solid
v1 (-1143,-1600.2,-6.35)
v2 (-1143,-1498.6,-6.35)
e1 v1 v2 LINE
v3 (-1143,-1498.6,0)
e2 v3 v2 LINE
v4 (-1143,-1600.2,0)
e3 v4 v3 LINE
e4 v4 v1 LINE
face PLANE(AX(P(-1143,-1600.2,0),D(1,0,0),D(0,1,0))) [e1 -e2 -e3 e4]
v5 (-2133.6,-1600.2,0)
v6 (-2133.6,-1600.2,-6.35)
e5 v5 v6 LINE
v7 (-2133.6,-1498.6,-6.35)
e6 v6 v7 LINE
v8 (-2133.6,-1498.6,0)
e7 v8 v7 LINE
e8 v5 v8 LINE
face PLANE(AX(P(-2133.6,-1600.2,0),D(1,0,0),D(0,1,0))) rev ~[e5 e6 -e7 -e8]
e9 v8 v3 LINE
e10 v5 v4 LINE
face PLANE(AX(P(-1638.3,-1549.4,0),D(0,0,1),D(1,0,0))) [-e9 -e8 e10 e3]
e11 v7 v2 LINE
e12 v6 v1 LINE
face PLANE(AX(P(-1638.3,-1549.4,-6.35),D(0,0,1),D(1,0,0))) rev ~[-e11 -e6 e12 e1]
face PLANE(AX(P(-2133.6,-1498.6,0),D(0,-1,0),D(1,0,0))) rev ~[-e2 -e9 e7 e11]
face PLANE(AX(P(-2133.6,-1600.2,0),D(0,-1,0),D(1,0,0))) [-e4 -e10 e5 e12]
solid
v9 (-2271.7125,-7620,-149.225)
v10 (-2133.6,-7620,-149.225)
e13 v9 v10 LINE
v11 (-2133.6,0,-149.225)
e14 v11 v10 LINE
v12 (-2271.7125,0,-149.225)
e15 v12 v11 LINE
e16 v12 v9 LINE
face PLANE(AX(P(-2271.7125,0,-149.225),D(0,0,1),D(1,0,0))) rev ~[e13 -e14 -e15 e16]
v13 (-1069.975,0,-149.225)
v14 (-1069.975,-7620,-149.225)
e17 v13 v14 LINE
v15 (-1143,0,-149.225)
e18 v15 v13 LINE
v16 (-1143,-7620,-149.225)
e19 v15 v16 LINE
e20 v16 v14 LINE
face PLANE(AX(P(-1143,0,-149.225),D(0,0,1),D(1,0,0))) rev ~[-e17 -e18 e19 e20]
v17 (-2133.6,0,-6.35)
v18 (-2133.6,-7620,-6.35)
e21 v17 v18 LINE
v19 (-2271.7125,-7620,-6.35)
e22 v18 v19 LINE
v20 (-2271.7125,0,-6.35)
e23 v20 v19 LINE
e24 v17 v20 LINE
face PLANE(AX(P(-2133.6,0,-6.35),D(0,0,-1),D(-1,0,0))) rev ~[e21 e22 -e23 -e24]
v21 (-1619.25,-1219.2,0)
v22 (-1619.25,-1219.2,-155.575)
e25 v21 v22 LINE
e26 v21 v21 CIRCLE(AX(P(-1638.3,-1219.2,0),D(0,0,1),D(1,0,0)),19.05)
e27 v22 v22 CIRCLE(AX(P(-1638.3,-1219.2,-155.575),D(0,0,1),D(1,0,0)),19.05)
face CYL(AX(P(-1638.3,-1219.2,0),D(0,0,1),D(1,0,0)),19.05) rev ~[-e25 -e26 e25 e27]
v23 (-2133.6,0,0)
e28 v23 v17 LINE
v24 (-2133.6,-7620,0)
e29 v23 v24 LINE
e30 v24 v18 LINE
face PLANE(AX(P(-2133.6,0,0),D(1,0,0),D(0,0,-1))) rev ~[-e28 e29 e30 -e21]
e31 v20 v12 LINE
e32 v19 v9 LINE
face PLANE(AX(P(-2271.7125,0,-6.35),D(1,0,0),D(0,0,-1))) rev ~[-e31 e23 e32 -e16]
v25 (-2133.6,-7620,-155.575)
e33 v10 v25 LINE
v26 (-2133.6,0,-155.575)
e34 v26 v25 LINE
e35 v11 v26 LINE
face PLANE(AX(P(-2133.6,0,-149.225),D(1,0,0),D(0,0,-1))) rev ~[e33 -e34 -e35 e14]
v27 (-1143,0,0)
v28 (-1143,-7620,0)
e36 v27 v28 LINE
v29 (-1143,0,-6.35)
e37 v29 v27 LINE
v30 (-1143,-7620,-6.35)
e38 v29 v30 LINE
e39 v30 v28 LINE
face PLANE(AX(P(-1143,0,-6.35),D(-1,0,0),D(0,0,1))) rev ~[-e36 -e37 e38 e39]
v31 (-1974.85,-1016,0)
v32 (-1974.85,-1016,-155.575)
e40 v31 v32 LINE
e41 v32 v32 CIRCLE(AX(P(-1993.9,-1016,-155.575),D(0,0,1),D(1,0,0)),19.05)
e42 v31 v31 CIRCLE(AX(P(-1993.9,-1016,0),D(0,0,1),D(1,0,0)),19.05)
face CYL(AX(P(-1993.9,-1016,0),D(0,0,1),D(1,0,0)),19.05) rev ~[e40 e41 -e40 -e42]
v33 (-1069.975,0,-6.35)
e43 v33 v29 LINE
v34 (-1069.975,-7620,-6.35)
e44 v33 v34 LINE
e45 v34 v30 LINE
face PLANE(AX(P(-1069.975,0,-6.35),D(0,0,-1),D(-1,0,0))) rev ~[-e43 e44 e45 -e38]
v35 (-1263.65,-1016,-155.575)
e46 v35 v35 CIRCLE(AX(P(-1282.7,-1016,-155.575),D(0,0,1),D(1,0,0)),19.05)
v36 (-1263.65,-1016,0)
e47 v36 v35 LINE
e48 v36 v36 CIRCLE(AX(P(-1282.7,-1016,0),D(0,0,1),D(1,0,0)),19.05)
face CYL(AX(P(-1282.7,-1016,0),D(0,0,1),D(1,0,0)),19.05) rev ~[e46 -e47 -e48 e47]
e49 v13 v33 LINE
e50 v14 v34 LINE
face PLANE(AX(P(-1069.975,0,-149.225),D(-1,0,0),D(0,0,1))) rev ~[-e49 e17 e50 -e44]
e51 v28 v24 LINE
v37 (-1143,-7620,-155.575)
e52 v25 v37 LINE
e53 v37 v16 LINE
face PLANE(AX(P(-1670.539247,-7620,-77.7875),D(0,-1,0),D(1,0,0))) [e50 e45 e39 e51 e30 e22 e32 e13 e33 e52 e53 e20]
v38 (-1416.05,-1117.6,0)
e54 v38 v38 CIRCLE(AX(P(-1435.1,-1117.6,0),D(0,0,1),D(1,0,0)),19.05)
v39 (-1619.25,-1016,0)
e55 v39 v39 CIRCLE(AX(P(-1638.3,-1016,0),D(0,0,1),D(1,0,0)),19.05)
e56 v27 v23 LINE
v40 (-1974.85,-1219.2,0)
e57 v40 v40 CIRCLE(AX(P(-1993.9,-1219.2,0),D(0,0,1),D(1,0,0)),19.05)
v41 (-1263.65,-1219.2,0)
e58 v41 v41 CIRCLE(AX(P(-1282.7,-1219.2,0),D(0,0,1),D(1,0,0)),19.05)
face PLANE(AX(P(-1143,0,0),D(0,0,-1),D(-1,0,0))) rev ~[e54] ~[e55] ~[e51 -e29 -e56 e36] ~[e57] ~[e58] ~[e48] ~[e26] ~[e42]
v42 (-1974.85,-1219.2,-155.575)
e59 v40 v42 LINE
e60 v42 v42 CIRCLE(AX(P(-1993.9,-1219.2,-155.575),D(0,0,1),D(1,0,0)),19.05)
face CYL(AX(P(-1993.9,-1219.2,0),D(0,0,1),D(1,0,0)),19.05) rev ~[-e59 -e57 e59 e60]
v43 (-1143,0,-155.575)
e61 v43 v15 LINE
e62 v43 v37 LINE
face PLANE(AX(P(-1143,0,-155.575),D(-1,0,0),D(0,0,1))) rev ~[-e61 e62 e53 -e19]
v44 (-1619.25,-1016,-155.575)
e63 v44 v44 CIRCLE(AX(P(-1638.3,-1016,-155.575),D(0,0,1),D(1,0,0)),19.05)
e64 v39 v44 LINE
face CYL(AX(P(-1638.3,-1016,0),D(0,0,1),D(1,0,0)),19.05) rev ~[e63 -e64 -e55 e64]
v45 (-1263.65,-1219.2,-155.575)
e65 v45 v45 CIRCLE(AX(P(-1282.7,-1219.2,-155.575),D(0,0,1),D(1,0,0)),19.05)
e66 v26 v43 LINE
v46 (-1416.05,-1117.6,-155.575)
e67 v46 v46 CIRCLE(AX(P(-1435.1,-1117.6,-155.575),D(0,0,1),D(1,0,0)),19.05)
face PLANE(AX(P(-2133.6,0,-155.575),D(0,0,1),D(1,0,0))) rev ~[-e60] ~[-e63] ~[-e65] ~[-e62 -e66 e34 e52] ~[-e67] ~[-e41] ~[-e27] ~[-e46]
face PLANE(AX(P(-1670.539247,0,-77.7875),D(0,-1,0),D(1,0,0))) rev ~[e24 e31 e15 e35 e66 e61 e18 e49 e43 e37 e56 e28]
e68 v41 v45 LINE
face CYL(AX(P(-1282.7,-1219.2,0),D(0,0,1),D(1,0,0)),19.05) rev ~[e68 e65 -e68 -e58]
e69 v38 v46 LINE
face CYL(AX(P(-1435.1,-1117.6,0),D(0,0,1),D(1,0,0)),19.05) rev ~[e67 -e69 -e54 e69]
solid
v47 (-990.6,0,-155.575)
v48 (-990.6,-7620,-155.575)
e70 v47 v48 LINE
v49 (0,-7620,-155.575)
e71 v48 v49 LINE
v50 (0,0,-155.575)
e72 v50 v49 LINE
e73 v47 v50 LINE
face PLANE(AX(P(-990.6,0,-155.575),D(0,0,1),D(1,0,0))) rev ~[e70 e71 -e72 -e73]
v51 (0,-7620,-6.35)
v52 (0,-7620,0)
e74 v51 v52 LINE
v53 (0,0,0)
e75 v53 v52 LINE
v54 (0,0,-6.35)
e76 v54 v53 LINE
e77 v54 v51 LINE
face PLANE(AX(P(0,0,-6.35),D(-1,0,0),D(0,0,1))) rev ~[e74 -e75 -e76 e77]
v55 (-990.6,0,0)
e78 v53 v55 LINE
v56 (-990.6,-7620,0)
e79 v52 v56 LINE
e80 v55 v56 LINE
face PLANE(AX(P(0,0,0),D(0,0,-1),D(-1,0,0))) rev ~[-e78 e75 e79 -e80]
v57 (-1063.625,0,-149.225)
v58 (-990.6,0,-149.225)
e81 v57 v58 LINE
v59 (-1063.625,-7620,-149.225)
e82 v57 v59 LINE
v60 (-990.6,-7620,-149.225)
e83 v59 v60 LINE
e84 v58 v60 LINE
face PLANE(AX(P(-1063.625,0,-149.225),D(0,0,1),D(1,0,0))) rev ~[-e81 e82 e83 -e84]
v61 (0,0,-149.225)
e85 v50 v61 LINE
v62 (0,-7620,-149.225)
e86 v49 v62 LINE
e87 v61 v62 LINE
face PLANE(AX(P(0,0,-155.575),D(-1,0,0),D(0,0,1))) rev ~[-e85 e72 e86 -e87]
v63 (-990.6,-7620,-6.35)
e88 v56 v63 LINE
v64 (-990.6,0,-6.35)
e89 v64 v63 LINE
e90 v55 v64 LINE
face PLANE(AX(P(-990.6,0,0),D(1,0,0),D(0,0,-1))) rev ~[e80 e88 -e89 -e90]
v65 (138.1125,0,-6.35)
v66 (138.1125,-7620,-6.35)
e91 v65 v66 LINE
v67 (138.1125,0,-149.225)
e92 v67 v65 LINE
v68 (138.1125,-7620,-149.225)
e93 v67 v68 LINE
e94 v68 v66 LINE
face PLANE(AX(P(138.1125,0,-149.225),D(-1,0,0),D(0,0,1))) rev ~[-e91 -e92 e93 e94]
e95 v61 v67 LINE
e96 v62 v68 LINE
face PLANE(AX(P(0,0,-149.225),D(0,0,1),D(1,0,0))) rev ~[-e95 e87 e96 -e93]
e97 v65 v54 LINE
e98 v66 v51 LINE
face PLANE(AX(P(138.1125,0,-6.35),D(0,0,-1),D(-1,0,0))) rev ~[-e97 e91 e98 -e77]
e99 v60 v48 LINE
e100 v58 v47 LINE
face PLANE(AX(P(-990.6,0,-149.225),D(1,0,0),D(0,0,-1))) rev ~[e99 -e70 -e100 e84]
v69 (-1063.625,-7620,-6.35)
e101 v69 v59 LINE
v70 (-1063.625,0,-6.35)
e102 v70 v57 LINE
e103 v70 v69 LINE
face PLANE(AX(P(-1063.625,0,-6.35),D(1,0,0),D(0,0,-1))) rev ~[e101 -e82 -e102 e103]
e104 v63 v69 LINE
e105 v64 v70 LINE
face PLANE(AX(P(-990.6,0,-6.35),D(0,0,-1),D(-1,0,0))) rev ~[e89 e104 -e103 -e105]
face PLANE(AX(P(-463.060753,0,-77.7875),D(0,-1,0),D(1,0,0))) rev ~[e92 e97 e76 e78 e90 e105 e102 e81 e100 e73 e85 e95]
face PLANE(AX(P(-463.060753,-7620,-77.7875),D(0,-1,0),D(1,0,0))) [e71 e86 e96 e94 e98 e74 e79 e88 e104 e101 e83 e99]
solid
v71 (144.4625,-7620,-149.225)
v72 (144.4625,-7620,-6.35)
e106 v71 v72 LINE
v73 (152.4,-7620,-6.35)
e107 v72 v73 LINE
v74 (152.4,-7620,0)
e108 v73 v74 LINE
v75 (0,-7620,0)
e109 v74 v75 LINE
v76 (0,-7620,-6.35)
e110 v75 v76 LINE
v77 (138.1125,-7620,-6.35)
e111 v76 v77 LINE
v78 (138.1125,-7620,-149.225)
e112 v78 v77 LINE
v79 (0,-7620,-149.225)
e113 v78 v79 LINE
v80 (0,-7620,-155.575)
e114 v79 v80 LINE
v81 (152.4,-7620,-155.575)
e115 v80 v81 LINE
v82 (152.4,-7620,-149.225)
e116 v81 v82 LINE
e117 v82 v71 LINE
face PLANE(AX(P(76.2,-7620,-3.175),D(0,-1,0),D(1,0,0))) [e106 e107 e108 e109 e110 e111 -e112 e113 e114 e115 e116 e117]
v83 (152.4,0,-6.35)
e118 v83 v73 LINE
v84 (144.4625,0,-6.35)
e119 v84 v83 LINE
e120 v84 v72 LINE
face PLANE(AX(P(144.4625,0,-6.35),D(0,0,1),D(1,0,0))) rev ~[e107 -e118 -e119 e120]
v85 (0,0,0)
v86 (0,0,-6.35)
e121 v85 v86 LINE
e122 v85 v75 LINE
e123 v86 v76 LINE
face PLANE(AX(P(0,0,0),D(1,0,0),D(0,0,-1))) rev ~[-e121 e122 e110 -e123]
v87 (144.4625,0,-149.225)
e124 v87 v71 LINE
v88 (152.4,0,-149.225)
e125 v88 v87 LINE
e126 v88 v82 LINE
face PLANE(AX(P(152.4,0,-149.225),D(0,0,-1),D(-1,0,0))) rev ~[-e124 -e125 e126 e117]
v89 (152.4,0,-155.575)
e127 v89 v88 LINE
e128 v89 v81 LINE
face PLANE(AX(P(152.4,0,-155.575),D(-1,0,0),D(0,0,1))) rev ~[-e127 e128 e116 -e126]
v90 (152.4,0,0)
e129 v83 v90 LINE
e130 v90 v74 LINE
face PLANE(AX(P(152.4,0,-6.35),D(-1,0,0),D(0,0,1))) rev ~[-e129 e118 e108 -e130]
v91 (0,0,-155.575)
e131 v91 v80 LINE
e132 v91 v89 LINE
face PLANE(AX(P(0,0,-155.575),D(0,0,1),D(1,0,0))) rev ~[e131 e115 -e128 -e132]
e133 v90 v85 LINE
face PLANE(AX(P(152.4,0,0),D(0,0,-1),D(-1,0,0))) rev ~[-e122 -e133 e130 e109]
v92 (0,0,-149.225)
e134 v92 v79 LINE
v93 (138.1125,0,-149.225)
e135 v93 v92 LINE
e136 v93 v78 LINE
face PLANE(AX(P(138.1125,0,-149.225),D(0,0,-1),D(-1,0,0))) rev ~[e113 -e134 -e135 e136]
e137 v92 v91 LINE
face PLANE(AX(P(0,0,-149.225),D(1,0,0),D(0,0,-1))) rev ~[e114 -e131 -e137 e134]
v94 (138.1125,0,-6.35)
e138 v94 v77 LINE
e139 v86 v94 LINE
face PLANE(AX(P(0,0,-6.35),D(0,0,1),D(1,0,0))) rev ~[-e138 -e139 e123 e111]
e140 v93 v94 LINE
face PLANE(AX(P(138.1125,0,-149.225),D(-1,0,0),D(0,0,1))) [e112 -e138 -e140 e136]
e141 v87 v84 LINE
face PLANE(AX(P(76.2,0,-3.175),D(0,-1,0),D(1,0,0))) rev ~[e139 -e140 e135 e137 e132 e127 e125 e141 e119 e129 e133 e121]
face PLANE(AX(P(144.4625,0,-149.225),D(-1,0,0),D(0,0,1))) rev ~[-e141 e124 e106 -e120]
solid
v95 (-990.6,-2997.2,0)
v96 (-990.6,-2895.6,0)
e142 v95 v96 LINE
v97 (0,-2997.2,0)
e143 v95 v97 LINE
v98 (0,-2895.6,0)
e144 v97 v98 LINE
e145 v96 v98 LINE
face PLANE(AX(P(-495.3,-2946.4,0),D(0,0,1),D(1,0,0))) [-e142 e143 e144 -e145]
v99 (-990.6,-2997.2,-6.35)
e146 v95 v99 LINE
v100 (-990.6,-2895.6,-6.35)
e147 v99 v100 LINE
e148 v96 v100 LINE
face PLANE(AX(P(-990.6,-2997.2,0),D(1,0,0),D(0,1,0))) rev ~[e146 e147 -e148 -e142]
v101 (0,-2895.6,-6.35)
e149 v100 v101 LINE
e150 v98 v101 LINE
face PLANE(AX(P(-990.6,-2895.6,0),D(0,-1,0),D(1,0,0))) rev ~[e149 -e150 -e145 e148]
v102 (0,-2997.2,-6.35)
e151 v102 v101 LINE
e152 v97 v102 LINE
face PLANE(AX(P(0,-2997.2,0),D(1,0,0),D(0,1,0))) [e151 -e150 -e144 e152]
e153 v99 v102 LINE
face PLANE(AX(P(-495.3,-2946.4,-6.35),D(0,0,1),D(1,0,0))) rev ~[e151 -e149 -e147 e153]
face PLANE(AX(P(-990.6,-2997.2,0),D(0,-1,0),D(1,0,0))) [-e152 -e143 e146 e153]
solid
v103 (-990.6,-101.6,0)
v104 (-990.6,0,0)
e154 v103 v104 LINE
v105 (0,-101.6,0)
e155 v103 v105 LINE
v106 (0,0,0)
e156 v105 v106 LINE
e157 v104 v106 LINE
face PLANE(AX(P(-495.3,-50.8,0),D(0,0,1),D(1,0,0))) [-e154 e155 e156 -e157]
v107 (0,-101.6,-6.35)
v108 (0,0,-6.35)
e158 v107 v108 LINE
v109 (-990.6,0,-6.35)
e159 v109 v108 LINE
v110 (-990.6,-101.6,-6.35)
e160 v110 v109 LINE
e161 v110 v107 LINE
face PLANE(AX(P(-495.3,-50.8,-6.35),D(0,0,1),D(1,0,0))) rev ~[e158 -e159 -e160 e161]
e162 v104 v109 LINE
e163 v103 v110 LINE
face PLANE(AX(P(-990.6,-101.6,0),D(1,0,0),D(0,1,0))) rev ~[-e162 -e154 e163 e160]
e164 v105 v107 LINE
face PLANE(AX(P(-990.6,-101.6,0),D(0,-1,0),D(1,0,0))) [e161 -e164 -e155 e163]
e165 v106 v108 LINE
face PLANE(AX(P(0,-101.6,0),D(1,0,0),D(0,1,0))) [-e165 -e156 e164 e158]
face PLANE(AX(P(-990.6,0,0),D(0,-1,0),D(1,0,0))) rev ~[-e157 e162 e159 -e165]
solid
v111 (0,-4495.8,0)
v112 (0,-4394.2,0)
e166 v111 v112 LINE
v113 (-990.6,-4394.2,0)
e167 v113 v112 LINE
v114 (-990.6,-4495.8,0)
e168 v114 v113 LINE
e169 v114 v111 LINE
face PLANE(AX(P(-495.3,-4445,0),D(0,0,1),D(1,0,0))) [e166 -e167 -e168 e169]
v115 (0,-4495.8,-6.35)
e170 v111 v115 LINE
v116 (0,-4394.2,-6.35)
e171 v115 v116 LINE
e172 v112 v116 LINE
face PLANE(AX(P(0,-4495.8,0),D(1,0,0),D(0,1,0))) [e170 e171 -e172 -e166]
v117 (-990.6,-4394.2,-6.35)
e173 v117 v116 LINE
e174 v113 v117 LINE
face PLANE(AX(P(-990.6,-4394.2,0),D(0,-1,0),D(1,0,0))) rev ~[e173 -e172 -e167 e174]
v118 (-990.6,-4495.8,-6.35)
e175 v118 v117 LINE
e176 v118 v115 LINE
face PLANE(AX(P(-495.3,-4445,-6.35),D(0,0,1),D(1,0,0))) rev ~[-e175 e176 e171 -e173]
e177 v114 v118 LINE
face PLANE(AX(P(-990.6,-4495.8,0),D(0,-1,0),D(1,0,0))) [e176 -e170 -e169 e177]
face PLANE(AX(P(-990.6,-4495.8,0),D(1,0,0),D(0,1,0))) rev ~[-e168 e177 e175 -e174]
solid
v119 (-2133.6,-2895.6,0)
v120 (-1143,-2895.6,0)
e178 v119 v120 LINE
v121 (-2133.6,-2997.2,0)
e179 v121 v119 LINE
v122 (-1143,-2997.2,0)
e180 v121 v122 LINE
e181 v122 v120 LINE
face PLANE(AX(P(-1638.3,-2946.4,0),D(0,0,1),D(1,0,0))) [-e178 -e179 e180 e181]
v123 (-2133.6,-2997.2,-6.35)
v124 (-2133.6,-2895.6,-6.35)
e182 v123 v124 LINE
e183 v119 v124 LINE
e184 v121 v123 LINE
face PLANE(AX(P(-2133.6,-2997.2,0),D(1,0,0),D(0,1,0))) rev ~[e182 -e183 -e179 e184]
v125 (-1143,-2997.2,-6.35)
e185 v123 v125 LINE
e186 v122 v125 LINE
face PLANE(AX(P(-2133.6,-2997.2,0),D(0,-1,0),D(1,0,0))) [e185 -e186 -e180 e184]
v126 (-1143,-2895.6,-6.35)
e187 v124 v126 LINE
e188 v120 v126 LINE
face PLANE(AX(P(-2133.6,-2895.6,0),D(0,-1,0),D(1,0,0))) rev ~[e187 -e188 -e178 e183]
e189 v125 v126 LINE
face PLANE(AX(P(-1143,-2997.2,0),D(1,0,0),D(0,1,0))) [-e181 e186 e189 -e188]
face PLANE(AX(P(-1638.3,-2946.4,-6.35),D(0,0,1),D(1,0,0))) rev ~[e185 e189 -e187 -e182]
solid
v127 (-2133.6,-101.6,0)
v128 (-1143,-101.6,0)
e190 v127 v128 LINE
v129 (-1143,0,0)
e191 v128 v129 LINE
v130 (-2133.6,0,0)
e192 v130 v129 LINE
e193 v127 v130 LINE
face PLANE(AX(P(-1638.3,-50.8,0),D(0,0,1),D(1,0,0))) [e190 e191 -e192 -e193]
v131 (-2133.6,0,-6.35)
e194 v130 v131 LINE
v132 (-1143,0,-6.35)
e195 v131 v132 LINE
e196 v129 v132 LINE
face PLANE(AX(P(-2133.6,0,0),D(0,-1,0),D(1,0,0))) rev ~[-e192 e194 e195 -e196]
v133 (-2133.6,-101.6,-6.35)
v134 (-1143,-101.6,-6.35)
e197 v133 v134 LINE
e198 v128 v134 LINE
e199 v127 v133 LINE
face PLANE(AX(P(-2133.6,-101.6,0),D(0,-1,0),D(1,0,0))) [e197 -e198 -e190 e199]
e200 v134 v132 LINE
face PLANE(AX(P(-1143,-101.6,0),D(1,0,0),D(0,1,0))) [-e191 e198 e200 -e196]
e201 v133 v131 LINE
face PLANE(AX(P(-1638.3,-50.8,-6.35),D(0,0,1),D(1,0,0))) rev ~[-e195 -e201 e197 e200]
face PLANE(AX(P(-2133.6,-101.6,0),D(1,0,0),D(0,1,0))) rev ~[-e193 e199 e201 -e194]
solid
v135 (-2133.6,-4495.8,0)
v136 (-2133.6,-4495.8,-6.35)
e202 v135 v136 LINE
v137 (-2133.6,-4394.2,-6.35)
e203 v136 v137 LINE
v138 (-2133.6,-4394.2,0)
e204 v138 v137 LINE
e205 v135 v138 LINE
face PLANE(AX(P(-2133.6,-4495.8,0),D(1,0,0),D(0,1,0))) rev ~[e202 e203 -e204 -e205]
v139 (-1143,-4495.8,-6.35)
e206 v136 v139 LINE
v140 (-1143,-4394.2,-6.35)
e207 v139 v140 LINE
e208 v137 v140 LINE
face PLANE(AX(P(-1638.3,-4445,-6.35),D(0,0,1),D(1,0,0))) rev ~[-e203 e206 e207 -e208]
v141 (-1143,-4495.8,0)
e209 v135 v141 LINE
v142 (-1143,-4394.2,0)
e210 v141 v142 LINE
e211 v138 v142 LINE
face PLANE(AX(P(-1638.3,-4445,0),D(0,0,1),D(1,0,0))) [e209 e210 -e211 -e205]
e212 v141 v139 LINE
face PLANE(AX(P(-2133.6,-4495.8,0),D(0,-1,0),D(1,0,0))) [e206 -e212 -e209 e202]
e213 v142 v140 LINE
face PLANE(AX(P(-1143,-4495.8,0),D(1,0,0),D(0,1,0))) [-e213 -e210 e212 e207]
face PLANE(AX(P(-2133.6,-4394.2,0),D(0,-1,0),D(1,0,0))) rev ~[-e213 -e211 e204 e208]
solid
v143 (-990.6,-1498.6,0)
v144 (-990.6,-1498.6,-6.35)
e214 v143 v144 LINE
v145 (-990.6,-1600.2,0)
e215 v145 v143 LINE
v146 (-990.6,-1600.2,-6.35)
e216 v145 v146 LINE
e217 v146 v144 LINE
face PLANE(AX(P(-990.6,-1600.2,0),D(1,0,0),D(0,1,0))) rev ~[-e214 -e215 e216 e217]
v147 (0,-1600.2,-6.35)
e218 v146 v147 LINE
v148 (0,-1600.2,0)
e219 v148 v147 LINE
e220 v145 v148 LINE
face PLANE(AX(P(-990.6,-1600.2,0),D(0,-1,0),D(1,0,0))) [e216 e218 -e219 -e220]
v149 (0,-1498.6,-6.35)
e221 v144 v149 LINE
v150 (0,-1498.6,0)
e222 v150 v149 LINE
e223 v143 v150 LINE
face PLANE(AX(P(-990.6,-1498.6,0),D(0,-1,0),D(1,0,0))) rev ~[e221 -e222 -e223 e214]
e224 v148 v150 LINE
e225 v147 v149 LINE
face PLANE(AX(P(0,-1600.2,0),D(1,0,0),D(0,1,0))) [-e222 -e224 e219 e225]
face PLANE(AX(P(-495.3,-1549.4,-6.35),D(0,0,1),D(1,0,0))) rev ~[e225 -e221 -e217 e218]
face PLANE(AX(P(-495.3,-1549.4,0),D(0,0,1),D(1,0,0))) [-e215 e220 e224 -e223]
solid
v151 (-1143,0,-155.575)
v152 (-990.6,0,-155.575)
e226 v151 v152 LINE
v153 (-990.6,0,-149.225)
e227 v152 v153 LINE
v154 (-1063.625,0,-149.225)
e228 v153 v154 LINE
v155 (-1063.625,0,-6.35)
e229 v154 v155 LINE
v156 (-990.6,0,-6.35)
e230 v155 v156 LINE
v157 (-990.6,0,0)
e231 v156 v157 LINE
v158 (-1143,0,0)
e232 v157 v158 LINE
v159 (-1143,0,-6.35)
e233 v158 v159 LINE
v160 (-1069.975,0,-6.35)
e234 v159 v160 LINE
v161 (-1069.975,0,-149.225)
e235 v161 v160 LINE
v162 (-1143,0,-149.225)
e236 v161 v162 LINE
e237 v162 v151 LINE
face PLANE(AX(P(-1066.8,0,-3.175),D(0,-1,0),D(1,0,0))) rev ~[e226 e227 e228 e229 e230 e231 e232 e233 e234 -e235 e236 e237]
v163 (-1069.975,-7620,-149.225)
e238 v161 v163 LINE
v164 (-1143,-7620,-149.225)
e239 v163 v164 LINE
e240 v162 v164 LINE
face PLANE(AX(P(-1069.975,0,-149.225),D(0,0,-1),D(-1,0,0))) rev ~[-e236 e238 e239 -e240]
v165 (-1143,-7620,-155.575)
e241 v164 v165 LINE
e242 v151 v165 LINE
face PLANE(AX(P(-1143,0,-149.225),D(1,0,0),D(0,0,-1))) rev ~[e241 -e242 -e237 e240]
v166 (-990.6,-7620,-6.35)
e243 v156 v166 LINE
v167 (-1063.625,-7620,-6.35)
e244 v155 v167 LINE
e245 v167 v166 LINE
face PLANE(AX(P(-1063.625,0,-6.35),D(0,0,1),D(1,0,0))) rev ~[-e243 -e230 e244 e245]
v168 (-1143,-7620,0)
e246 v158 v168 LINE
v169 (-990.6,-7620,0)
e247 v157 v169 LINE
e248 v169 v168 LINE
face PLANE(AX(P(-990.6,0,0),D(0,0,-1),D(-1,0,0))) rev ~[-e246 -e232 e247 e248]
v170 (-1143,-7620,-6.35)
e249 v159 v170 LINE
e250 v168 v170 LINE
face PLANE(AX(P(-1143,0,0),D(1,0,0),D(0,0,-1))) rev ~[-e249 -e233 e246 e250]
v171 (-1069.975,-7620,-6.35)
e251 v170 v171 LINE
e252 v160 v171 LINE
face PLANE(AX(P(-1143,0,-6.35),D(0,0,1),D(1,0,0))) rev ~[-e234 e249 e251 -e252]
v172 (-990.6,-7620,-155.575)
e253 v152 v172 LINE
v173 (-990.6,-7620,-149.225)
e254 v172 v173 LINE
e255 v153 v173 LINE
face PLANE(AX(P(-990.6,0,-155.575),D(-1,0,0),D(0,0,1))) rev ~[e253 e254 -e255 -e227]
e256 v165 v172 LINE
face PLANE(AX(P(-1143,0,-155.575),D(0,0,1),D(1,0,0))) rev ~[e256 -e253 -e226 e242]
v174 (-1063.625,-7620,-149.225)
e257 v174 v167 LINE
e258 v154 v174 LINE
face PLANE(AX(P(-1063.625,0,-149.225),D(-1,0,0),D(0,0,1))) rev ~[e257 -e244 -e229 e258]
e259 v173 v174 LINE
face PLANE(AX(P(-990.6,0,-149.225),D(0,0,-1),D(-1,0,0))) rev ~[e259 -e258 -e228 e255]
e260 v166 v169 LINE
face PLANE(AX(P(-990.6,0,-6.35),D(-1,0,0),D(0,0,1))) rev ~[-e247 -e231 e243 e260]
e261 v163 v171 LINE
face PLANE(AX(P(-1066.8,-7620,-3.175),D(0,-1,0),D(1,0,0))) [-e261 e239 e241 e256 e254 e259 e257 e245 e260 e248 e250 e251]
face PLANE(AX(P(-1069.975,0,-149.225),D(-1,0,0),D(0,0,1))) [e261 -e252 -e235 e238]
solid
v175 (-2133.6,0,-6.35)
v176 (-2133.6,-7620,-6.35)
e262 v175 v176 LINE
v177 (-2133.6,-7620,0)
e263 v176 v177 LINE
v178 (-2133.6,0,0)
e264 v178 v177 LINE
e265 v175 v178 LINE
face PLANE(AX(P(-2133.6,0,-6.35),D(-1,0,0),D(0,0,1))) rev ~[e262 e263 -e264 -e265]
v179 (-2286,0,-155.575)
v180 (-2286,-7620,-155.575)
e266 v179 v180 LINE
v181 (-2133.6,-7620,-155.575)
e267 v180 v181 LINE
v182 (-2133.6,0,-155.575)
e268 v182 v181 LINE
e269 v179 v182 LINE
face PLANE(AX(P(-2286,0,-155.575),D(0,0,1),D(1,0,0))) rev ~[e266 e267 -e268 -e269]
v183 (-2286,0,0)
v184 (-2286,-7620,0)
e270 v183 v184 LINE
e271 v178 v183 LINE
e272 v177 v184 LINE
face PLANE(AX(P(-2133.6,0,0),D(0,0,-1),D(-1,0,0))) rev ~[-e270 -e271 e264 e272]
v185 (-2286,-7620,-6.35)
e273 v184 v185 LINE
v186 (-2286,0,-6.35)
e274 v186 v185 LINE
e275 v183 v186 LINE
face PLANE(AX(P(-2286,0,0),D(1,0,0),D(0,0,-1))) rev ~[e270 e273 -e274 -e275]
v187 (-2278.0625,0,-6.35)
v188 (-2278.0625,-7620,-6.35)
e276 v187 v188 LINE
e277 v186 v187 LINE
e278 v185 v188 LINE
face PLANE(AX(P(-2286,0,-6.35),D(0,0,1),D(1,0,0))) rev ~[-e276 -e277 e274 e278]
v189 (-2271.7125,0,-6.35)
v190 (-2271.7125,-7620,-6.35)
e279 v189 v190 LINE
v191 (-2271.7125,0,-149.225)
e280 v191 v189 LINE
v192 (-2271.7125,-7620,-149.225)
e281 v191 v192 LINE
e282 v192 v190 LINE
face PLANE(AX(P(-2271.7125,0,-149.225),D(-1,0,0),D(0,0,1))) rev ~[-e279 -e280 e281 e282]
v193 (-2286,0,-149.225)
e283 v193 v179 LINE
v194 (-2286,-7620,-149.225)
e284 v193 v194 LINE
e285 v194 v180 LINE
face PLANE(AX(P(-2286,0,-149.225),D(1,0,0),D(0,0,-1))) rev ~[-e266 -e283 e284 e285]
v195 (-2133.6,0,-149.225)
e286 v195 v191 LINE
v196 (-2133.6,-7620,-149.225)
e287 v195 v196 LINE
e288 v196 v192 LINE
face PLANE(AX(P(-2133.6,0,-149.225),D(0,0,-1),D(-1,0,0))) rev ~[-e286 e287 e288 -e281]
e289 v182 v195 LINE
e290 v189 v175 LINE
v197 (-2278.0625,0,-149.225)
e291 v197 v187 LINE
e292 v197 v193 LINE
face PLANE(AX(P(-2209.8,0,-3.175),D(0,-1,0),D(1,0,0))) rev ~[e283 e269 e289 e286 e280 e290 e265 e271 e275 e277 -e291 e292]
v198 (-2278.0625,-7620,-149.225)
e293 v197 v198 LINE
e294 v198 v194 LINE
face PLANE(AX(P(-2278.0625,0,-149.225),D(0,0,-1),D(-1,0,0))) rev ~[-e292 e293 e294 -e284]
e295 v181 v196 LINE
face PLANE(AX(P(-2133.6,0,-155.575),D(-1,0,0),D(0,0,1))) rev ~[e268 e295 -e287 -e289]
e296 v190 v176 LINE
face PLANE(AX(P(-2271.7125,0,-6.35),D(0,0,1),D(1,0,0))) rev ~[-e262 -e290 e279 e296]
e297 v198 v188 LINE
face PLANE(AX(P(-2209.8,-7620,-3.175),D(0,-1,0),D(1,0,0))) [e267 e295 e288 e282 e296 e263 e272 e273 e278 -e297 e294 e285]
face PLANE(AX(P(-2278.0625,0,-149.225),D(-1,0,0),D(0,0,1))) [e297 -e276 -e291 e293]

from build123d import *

# Parameters (mm, degrees)
F0_W      = 6.35
F0_H      = 142.875
F1_DEPTH  = 7620
F2_W      = 6.35
F2_H      = 142.875
F3_DEPTH  = 7620
F4_W      = 6.35
F4_H      = 142.875
F5_DEPTH  = 7620
F7_DEPTH  = 7620
F8_W      = 990.6
F8_H      = 101.6
F9_DEPTH  = 6.35
F10_R     = 19.05
F11_DEPTH = 155.576


with BuildPart() as f1:
    # F0 (on Front) → F1 (new body)
    with BuildSketch(Plane.XZ):
        Polygon((152.4, 0), (0, 0), (0, -6.35), (138.1125, -6.35), (144.4625, -6.35), (152.4, -6.35), align=None)
        with Locations((141.2875, -77.7875)):
            Rectangle(F0_W, F0_H)
        Polygon((144.4625, -149.225), (138.1125, -149.225), (0, -149.225), (0, -155.575), (152.4, -155.575), (152.4, -149.225), align=None)
    extrude(amount=F1_DEPTH)


with BuildPart() as f3:
    # F2 (on Front) → F3 (new body)
    with BuildSketch(Plane.XZ):
        Polygon((-2133.6, 0), (-2286, 0), (-2286, -6.35), (-2278.0625, -6.35), (-2271.7125, -6.35), (-2133.6, -6.35), align=None)
        with Locations((-2274.8875, -77.7875)):
            Rectangle(F2_W, F2_H)
        Polygon((-2271.7125, -149.225), (-2278.0625, -149.225), (-2286, -149.225), (-2286, -155.575), (-2133.6, -155.575), (-2133.6, -149.225), align=None)
    extrude(amount=F3_DEPTH)


with BuildPart() as f5:
    # F4 (on Front) → F5 (new body)
    with BuildSketch(Plane.XZ):
        Polygon((-990.6, 0), (-1143, 0), (-1143, -6.35), (-1069.975, -6.35), (-1063.625, -6.35), (-990.6, -6.35), align=None)
        with Locations((-1066.8, -77.7875)):
            Rectangle(F4_W, F4_H)
        Polygon((-1063.625, -149.225), (-1069.975, -149.225), (-1143, -149.225), (-1143, -155.575), (-990.6, -155.575), (-990.6, -149.225), align=None)
    extrude(amount=F5_DEPTH)


with BuildPart() as f7:
    # F6 (on Front) → F7 (new body)
    with BuildSketch(Plane.XZ):
        Polygon((0, -6.35), (0, 0), (-990.6, 0), (-990.6, -6.35), (-1063.625, -6.35), (-1063.625, -149.225), (-990.6, -149.225), (-990.6, -155.575), (0, -155.575), (0, -149.225), (138.1125, -149.225), (138.1125, -6.35), align=None)
        Polygon((-1143, -6.35), (-1143, 0), (-2133.6, 0), (-2133.6, -6.35), (-2271.7125, -6.35), (-2271.7125, -149.225), (-2133.6, -149.225), (-2133.6, -155.575), (-1143, -155.575), (-1143, -149.225), (-1069.975, -149.225), (-1069.975, -6.35), align=None)
    extrude(amount=F7_DEPTH)

    # F10 (on face) → F11 (cut, through all)
    with BuildSketch(Plane.XY):
        with Locations((-1993.9, -1016)):
            Circle(F10_R)
        with Locations((-1993.9, -1219.2)):
            Circle(F10_R)
        with Locations((-1638.3, -1016)):
            Circle(F10_R)
        with Locations((-1638.3, -1219.2)):
            Circle(F10_R)
        with Locations((-1282.7, -1016)):
            Circle(F10_R)
        with Locations((-1282.7, -1219.2)):
            Circle(F10_R)
        with Locations((-1435.1, -1117.6)):
            Circle(F10_R)
    extrude(amount=-F11_DEPTH, mode=Mode.SUBTRACT)


with BuildPart() as f9:
    # F8 (on face) → F9 (new body)
    with BuildSketch(Plane.XY):
        with Locations((-495.3, -1549.4)):
            Rectangle(F8_W, F8_H)
        with Locations((-1638.3, -1549.4)):
            Rectangle(F8_W, F8_H)
        with Locations((-1638.3, -50.8)):
            Rectangle(F8_W, F8_H)
        with Locations((-495.3, -50.8)):
            Rectangle(F8_W, F8_H)
        with Locations((-495.3, -2946.4)):
            Rectangle(F8_W, F8_H)
        with Locations((-1638.3, -2946.4)):
            Rectangle(F8_W, F8_H)
        with Locations((-495.3, -4445)):
            Rectangle(F8_W, F8_H)
        with Locations((-1638.3, -4445)):
            Rectangle(F8_W, F8_H)
    extrude(amount=-F9_DEPTH)


solid = Compound([f1.part, f3.part, f5.part, f7.part, f9.part])
